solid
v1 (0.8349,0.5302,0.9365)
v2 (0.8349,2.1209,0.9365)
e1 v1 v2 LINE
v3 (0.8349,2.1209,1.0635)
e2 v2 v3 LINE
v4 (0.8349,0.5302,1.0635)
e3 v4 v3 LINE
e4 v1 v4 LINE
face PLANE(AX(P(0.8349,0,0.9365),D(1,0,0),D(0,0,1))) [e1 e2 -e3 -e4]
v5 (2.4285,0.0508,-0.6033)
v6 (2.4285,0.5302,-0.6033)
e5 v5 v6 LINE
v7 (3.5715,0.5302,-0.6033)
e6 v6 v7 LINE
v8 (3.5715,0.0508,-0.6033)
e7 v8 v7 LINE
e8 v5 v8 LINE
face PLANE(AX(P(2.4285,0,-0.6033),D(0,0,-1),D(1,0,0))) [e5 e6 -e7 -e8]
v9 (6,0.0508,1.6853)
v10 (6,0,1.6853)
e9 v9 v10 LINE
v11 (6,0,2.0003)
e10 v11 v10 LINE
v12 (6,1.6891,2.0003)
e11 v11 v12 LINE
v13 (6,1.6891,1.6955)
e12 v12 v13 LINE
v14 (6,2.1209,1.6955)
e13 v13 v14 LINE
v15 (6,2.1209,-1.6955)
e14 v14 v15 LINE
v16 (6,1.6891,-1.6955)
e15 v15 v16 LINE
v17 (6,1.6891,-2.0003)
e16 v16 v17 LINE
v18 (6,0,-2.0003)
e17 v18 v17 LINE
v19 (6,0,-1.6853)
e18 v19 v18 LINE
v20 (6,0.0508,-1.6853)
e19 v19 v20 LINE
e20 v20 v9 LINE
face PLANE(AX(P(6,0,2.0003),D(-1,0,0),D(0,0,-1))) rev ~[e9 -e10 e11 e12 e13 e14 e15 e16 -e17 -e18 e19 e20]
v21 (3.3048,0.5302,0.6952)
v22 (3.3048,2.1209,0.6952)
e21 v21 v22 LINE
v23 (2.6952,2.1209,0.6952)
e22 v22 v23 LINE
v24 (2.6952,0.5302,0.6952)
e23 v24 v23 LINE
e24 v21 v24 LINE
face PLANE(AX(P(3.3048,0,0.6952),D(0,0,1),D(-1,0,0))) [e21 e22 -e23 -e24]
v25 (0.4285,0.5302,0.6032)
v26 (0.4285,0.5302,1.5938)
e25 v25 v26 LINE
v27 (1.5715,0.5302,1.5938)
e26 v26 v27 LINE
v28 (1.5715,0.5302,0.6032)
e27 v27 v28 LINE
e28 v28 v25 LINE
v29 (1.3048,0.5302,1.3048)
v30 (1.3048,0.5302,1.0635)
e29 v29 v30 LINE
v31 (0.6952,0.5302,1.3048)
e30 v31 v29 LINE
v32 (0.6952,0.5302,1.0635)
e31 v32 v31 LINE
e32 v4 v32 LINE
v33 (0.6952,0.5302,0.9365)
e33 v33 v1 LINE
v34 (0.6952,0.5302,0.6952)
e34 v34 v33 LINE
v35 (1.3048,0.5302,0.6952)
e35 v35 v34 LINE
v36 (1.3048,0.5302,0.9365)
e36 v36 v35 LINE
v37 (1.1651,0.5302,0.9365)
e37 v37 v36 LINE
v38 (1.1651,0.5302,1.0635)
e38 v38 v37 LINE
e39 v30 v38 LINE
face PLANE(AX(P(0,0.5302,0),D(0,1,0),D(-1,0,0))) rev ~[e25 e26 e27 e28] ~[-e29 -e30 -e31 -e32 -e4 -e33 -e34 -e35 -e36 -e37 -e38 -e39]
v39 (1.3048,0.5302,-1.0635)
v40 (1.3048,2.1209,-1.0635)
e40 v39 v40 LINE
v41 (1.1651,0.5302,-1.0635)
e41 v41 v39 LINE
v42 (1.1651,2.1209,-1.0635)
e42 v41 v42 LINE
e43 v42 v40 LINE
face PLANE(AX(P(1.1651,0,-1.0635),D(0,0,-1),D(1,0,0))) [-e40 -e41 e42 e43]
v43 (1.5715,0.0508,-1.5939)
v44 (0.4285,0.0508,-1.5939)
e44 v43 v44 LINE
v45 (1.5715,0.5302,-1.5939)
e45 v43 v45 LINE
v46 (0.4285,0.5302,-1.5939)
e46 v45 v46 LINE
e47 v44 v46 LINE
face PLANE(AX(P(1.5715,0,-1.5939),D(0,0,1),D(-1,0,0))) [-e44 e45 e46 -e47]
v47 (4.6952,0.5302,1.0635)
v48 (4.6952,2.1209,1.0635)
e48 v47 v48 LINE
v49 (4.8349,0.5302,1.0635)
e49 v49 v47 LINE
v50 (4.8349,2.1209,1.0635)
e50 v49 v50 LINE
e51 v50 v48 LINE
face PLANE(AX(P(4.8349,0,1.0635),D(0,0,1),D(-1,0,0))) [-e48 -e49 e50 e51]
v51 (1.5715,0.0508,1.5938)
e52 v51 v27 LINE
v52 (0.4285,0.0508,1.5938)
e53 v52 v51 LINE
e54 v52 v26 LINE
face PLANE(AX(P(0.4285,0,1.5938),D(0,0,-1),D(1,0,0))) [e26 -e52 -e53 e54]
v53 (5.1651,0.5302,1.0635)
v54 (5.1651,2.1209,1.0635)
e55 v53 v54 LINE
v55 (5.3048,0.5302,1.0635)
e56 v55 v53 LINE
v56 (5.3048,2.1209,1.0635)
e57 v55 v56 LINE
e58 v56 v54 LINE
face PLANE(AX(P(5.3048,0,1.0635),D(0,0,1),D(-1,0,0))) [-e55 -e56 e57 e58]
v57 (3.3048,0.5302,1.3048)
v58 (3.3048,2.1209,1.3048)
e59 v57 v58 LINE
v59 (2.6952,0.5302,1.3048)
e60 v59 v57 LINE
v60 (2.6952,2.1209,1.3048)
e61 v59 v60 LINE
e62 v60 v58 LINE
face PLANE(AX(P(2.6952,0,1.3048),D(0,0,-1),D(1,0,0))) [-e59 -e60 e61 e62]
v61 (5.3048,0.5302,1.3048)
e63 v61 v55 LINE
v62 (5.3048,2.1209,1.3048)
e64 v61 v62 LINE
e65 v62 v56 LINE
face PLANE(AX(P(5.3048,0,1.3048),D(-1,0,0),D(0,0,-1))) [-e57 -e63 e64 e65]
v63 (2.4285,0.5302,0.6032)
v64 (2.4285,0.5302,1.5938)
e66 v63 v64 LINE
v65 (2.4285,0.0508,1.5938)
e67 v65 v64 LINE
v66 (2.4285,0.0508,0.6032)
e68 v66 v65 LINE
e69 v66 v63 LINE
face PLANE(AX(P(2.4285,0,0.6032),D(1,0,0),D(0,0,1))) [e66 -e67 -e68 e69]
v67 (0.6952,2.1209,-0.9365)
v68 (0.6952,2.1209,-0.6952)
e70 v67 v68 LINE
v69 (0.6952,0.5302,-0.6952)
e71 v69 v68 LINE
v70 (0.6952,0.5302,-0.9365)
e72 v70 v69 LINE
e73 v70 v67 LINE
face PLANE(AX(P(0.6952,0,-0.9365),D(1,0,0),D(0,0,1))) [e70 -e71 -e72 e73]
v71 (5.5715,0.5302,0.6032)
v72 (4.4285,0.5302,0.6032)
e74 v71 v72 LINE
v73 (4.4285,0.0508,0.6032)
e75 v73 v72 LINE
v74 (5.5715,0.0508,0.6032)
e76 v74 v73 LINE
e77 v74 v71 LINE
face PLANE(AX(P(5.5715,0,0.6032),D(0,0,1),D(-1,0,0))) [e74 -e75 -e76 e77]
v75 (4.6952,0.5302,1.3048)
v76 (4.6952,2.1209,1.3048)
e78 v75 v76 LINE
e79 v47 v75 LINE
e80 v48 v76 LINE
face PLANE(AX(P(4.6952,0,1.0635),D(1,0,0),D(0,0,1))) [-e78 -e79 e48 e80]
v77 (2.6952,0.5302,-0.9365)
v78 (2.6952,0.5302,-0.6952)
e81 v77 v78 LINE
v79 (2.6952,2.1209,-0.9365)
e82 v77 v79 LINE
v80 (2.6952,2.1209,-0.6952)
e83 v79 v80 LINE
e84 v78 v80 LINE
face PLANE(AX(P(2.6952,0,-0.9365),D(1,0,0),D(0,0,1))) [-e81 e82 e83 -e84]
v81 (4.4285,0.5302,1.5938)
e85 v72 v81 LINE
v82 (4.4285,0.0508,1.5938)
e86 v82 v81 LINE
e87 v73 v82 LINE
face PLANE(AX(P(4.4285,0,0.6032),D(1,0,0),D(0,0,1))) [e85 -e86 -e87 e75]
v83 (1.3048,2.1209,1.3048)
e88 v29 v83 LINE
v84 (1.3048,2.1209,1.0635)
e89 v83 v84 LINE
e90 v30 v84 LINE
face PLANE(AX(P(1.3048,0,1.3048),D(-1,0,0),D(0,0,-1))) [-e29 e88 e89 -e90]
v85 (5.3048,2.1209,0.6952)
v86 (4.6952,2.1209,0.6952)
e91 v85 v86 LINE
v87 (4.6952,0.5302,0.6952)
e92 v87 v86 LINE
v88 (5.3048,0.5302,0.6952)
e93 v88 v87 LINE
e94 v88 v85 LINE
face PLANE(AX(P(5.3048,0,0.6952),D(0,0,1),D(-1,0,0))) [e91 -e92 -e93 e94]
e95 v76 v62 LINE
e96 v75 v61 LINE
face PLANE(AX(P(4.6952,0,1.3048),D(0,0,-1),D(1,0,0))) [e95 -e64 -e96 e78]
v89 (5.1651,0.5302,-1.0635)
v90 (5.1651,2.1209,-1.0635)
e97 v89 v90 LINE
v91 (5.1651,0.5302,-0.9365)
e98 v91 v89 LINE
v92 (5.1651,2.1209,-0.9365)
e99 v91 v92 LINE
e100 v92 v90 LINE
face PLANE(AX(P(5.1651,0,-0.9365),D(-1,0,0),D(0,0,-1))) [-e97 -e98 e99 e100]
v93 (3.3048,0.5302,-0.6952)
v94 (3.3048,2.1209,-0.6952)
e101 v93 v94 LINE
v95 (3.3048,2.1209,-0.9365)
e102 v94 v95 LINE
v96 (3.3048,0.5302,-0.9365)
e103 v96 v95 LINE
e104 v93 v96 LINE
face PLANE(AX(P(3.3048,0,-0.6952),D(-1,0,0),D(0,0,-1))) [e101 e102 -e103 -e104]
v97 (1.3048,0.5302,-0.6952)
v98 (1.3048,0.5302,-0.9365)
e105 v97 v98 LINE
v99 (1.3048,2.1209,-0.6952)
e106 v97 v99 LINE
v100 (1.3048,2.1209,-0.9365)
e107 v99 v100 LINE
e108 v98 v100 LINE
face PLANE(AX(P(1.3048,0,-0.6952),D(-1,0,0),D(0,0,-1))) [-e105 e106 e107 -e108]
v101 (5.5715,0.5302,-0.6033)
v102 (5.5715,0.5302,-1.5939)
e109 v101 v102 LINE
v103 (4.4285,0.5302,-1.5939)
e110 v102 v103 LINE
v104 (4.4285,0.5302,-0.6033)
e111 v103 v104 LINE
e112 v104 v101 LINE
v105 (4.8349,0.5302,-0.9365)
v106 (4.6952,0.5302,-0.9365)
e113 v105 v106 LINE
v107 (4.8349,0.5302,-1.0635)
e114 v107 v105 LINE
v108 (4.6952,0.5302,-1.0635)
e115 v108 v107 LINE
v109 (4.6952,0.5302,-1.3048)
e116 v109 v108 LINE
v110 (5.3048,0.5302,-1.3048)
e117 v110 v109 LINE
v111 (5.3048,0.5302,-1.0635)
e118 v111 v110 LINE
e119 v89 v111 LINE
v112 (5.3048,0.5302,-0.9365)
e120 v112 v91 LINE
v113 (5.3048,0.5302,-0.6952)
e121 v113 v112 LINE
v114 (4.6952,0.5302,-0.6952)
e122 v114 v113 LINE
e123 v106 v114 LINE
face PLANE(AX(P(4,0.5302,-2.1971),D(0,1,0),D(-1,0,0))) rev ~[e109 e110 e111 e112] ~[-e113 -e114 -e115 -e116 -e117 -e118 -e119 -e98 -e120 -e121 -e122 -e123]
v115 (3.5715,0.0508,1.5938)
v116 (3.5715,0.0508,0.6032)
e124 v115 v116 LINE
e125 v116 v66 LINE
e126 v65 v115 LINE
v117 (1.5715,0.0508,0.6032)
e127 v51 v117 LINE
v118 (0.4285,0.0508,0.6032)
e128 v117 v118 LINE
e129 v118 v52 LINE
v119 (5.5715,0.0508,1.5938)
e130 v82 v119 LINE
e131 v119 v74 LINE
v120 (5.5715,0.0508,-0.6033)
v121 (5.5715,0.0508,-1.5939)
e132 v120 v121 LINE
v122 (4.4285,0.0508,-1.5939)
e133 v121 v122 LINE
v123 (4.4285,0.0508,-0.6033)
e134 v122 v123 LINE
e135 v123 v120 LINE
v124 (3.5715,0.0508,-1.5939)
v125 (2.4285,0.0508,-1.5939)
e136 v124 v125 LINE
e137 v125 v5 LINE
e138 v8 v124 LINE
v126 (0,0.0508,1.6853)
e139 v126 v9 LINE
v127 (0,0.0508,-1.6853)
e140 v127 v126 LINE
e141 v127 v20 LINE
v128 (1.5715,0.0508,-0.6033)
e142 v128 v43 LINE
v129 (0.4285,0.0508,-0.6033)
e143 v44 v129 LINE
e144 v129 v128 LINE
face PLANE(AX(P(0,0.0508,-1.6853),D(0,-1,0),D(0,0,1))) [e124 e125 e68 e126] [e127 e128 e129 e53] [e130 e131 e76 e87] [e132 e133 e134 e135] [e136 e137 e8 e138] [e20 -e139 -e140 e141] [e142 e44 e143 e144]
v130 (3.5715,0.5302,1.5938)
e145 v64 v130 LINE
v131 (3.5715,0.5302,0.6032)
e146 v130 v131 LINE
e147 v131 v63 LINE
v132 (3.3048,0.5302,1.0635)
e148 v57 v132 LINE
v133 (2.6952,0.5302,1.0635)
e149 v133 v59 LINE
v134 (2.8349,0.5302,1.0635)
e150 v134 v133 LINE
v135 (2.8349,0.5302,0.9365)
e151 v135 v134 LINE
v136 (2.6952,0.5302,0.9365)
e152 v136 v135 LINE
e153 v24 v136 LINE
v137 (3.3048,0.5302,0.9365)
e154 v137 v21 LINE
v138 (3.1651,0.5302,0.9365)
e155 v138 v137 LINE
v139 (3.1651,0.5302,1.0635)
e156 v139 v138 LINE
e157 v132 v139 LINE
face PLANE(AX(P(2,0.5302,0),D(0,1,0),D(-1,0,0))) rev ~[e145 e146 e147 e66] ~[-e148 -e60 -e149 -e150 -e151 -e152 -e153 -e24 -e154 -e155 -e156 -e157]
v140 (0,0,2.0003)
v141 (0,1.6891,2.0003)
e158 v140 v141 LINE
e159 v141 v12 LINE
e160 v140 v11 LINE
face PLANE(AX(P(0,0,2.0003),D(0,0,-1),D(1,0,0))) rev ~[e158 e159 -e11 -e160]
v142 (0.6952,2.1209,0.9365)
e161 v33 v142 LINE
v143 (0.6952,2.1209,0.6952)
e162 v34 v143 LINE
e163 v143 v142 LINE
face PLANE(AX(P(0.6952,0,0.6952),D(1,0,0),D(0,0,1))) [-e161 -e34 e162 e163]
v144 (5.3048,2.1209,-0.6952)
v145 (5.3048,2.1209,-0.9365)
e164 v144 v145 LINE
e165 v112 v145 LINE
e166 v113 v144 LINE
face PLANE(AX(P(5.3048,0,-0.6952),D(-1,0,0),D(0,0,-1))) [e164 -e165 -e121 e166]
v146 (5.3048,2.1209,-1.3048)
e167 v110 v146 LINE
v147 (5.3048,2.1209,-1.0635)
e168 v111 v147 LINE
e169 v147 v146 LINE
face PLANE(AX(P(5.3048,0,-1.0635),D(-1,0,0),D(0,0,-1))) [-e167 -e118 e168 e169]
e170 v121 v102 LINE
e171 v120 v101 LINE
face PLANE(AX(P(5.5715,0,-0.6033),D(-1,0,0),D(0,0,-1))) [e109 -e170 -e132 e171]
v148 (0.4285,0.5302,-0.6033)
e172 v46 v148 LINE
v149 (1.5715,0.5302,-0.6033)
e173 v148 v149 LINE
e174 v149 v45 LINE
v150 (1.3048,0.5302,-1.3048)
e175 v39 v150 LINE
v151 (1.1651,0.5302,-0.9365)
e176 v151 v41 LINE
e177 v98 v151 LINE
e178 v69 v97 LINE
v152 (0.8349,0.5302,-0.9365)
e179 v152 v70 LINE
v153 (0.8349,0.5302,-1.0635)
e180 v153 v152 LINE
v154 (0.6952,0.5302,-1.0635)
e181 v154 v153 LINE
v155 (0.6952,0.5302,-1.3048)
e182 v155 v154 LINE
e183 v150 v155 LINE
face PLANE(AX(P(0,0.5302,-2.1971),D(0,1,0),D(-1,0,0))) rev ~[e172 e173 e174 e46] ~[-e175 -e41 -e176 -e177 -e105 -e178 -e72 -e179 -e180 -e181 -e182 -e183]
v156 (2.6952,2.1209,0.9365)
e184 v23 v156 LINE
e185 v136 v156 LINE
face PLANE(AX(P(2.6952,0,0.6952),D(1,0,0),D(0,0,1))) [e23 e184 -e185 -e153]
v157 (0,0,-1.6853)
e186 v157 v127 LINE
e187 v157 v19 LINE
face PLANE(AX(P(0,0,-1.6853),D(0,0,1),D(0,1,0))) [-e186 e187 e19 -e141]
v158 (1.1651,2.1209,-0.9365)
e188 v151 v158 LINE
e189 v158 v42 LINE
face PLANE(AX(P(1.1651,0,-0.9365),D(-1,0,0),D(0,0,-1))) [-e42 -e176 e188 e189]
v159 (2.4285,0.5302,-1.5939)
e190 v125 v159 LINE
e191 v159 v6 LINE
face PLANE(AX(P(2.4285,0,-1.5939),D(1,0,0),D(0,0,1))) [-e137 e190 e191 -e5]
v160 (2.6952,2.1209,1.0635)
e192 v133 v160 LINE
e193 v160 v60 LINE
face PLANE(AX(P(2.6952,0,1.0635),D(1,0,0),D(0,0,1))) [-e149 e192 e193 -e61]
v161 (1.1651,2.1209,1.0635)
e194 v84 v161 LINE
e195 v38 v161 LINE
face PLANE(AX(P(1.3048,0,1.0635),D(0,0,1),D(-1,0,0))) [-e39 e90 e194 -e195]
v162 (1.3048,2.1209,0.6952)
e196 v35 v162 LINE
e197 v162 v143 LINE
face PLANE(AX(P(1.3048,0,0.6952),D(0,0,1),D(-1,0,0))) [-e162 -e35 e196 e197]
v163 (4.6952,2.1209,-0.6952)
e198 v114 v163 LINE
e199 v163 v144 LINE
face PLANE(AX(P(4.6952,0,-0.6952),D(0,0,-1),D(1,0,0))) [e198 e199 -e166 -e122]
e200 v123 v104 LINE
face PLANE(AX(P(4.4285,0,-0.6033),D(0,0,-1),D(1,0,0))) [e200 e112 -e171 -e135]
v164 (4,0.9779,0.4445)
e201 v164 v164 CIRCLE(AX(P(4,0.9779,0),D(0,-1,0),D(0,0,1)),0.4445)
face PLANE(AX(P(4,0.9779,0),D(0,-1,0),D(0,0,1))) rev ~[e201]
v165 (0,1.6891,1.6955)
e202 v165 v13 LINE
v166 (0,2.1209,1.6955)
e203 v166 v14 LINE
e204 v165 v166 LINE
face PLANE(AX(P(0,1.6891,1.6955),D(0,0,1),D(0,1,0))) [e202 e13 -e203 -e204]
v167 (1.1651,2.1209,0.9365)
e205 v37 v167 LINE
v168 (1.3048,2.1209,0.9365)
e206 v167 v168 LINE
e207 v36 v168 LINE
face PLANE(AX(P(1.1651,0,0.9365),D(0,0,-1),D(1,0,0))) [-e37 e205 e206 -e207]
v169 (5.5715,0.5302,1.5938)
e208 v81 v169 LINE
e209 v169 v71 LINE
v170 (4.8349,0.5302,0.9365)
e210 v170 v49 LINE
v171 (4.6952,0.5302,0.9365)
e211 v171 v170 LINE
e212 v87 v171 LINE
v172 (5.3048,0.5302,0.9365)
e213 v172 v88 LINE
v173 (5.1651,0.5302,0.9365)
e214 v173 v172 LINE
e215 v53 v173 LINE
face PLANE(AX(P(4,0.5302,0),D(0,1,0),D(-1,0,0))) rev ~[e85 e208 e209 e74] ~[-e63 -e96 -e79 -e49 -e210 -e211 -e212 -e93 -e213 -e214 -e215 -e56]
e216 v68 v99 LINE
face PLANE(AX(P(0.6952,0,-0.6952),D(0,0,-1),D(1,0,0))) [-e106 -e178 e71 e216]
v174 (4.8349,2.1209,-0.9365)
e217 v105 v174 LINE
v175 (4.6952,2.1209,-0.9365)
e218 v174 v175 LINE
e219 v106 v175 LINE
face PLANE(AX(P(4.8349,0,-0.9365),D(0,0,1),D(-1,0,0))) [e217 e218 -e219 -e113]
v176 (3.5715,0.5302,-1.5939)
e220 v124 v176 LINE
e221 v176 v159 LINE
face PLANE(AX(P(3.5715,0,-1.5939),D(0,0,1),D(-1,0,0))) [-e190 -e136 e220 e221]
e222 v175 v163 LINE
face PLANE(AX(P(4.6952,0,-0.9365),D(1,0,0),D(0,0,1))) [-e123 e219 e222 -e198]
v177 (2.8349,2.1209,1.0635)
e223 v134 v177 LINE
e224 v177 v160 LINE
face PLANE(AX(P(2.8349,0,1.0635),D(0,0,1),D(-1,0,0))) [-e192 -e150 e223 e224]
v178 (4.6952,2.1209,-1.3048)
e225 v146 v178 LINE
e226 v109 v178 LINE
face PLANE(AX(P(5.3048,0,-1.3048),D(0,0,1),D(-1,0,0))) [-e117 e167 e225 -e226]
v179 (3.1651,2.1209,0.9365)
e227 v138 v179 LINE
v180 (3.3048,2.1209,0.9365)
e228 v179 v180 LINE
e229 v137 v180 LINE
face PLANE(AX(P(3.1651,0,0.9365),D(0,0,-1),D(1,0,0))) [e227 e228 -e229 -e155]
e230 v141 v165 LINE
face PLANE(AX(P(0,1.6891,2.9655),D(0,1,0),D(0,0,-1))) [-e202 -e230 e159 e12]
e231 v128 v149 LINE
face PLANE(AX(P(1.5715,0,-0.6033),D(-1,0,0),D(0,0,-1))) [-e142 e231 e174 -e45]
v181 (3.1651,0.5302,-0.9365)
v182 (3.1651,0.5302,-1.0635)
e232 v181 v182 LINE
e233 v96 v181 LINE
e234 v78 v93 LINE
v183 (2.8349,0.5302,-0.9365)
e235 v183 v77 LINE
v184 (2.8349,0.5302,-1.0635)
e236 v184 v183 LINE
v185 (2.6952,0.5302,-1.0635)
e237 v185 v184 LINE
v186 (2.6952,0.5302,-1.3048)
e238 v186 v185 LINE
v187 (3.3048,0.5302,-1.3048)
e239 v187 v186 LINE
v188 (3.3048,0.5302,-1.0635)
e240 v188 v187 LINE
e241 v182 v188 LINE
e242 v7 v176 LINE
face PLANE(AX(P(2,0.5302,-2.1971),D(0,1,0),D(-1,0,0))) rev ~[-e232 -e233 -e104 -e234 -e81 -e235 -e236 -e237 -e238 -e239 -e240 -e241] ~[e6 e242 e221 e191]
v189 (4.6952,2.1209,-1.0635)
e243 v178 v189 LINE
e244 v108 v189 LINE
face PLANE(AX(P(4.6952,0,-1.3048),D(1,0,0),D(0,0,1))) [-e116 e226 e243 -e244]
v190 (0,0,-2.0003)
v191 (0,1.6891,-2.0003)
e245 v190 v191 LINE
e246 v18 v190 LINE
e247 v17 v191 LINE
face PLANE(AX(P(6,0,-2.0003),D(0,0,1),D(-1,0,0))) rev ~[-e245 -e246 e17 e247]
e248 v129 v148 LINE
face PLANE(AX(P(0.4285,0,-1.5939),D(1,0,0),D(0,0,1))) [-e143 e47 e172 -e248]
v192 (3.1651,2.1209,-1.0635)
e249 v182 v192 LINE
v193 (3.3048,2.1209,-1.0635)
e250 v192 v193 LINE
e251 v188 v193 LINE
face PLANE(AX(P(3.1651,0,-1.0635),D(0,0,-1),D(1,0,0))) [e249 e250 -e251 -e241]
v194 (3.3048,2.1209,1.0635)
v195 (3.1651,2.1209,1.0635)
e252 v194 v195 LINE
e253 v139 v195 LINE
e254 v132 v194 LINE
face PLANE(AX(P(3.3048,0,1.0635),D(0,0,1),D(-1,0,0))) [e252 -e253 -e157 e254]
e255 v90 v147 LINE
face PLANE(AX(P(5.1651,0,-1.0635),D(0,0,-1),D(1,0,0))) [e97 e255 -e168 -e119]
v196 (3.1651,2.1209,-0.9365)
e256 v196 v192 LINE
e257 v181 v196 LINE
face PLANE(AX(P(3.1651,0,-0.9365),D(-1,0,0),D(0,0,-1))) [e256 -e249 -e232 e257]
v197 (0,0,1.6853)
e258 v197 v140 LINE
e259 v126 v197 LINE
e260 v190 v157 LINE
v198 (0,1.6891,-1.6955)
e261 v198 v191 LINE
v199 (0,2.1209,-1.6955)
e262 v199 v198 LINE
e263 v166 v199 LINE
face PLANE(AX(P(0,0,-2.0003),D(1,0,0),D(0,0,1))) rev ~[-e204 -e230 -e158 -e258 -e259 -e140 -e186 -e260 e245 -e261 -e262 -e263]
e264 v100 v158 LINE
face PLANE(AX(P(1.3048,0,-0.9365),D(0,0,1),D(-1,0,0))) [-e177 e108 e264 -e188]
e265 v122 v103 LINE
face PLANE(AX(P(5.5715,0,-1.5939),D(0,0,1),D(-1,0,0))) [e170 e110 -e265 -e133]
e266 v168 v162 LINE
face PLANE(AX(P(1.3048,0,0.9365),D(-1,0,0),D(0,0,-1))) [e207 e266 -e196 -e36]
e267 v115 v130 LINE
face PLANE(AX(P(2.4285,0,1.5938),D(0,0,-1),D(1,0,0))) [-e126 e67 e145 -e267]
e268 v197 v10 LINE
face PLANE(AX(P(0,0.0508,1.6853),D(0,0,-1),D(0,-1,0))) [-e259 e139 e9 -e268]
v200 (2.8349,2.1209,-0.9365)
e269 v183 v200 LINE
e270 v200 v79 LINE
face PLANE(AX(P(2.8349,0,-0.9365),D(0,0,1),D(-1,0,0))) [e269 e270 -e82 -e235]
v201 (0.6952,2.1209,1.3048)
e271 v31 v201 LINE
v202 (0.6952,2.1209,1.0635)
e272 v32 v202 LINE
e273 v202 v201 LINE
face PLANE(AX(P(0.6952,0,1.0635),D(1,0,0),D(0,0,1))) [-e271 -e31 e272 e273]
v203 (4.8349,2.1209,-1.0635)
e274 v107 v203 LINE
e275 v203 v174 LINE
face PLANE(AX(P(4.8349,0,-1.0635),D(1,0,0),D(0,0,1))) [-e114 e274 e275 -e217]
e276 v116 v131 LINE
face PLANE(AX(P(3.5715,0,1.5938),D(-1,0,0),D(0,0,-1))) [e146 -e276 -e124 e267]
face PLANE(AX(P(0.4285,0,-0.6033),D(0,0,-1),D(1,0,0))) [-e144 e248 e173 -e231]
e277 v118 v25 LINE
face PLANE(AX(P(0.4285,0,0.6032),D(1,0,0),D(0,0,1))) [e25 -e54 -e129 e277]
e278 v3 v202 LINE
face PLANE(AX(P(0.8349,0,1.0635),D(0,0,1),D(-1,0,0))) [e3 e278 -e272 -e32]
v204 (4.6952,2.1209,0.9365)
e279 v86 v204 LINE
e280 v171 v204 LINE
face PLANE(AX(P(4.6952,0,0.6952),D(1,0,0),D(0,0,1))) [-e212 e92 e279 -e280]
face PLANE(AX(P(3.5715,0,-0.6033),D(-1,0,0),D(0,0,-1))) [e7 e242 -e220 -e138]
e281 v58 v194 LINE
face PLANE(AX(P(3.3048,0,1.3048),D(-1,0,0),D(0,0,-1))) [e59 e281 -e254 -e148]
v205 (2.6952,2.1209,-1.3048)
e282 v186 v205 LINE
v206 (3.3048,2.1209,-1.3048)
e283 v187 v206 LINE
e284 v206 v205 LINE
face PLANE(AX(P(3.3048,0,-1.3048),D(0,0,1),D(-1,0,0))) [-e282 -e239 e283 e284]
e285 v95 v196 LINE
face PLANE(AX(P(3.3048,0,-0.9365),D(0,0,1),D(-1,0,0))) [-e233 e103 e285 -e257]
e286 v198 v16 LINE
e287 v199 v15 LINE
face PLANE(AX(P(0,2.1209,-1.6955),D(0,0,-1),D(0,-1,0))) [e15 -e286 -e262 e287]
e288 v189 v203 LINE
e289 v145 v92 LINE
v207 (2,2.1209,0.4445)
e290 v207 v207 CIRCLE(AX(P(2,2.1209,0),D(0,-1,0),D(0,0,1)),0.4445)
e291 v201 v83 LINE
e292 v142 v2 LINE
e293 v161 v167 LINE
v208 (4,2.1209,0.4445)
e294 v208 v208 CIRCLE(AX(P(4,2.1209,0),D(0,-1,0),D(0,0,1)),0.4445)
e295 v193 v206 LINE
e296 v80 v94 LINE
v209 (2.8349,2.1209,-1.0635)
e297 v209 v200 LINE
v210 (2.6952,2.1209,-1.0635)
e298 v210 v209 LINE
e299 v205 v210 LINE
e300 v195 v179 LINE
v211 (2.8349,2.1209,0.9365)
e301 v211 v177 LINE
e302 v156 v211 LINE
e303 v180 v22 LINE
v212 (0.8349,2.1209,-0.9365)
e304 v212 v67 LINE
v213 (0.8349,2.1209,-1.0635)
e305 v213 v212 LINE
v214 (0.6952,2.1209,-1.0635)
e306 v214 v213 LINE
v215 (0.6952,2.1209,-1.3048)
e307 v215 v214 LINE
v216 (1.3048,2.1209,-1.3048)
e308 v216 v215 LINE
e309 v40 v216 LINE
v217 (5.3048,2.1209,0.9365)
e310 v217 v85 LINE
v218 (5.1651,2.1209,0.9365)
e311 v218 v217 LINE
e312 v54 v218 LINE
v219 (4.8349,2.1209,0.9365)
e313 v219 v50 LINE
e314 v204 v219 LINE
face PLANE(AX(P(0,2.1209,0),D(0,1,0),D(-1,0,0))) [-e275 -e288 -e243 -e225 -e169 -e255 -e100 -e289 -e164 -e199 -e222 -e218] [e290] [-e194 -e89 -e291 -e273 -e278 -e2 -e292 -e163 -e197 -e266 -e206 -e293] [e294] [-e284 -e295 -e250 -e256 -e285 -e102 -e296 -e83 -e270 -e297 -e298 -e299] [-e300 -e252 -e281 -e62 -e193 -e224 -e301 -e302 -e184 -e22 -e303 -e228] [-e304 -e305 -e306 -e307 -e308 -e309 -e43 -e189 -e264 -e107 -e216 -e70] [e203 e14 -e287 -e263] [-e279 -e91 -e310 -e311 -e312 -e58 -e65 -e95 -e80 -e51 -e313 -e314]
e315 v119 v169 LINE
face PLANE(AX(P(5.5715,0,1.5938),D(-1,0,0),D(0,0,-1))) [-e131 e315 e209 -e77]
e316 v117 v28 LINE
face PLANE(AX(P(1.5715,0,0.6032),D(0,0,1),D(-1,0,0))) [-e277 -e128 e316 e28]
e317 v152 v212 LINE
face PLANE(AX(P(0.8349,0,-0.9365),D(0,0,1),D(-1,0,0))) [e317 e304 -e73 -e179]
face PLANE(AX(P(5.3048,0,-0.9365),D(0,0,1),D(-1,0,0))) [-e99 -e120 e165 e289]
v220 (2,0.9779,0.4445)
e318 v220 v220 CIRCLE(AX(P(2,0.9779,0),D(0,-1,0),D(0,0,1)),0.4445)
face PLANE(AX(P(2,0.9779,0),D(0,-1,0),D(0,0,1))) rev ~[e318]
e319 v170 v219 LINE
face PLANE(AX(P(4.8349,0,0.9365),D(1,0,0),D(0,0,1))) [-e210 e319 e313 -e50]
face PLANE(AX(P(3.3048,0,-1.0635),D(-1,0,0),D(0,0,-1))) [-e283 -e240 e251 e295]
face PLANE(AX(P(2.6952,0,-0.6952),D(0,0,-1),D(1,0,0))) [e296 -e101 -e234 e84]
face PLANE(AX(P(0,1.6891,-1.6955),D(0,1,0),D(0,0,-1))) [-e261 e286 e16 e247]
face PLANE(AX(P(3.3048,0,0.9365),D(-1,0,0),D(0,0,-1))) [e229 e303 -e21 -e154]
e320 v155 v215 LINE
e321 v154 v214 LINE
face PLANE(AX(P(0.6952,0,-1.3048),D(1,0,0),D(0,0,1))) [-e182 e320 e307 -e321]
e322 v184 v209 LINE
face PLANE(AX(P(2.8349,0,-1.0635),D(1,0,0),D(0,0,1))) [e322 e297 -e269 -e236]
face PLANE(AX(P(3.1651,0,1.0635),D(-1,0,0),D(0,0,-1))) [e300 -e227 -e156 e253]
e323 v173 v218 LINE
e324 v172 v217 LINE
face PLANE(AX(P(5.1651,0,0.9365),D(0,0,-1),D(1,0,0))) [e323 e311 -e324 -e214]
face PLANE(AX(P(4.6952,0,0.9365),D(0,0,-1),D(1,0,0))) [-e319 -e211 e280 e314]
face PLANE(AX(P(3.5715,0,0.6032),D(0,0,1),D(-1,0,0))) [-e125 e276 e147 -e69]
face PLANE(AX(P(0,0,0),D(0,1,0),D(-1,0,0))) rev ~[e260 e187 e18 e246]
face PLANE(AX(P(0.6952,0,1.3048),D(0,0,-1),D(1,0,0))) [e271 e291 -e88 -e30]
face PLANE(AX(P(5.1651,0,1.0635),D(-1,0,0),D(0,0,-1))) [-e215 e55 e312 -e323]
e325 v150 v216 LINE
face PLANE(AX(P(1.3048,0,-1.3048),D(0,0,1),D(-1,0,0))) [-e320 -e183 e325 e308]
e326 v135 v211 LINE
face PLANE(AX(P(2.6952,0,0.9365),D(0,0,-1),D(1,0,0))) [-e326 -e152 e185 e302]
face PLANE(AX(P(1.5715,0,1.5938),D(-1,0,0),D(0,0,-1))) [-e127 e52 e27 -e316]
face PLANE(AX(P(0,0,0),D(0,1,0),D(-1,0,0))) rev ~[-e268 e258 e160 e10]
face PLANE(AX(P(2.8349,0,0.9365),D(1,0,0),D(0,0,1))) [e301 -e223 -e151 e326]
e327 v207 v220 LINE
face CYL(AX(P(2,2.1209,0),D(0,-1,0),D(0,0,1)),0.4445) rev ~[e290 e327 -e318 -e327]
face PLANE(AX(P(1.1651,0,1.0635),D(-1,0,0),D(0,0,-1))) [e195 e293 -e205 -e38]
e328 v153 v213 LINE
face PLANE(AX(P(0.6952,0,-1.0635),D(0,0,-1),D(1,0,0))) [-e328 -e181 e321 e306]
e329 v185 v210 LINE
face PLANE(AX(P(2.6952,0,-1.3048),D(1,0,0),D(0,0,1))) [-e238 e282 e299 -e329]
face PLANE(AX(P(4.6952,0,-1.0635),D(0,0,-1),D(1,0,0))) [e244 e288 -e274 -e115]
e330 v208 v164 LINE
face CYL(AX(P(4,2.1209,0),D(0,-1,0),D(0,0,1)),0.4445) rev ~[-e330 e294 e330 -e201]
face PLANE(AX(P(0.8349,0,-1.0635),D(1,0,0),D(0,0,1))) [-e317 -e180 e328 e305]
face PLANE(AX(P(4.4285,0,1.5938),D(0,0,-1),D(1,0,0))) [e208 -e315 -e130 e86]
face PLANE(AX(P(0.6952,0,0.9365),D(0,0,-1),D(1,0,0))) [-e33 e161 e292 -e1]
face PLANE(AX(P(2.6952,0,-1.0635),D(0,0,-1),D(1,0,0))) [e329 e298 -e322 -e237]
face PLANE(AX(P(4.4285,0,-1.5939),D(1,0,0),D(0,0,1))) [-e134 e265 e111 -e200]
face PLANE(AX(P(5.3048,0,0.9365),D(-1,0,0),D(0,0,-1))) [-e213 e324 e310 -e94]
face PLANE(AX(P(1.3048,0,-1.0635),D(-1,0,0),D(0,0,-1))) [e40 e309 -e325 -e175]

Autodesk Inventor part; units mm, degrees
sketch "Sketch_1" plane through (0, 0, 0) normal (0, 1, 0) x (-1, 0, 0)
  line L0 (0, -2.0003) -> (0, 2.0003)
  line L1 (0, 2.0003) -> (-6, 2.0003)
  line L2 (-6, 2.0003) -> (-6, -2.0003)
  line L3 (-6, -2.0003) -> (0, -2.0003)
  line L4 (-4.6952, 1.0635) -> (-4.6952, 1.3048)
  line L5 (-4.6952, 1.3048) -> (-5.3048, 1.3048)
  line L6 (-5.3048, 1.3048) -> (-5.3048, 1.0635)
  line L7 (-5.3048, 1.0635) -> (-5.1651, 1.0635)
  line L8 (-5.1651, 1.0635) -> (-5.1651, 0.9365)
  line L9 (-5.1651, 0.9365) -> (-5.3048, 0.9365)
  line L10 (-5.3048, 0.9365) -> (-5.3048, 0.6952)
  line L11 (-5.3048, 0.6952) -> (-4.6952, 0.6952)
  line L12 (-4.6952, 0.6952) -> (-4.6952, 0.9365)
  line L13 (-4.6952, 0.9365) -> (-4.8349, 0.9365)
  line L14 (-4.8349, 0.9365) -> (-4.8349, 1.0635)
  line L15 (-4.8349, 1.0635) -> (-4.6952, 1.0635)
  line L16 (-4.6952, -0.9365) -> (-4.6952, -0.6952)
  line L17 (-4.6952, -0.6952) -> (-5.3048, -0.6952)
  line L18 (-5.3048, -0.6952) -> (-5.3048, -0.9365)
  line L19 (-5.3048, -0.9365) -> (-5.1651, -0.9365)
  line L20 (-5.1651, -0.9365) -> (-5.1651, -1.0635)
  line L21 (-5.1651, -1.0635) -> (-5.3048, -1.0635)
  line L22 (-5.3048, -1.0635) -> (-5.3048, -1.3048)
  line L23 (-5.3048, -1.3048) -> (-4.6952, -1.3048)
  line L24 (-4.6952, -1.3048) -> (-4.6952, -1.0635)
  line L25 (-4.6952, -1.0635) -> (-4.8349, -1.0635)
  line L26 (-4.8349, -1.0635) -> (-4.8349, -0.9365)
  line L27 (-4.8349, -0.9365) -> (-4.6952, -0.9365)
  line L28 (-2.6952, 1.0635) -> (-2.6952, 1.3048)
  line L29 (-2.6952, 1.3048) -> (-3.3048, 1.3048)
  line L30 (-3.3048, 1.3048) -> (-3.3048, 1.0635)
  line L31 (-3.3048, 1.0635) -> (-3.1651, 1.0635)
  line L32 (-3.1651, 1.0635) -> (-3.1651, 0.9365)
  line L33 (-3.1651, 0.9365) -> (-3.3048, 0.9365)
  line L34 (-3.3048, 0.9365) -> (-3.3048, 0.6952)
  line L35 (-3.3048, 0.6952) -> (-2.6952, 0.6952)
  line L36 (-2.6952, 0.6952) -> (-2.6952, 0.9365)
  line L37 (-2.6952, 0.9365) -> (-2.8349, 0.9365)
  line L38 (-2.8349, 0.9365) -> (-2.8349, 1.0635)
  line L39 (-2.8349, 1.0635) -> (-2.6952, 1.0635)
  line L40 (-2.6952, -0.9365) -> (-2.6952, -0.6952)
  line L41 (-2.6952, -0.6952) -> (-3.3048, -0.6952)
  line L42 (-3.3048, -0.6952) -> (-3.3048, -0.9365)
  line L43 (-3.3048, -0.9365) -> (-3.1651, -0.9365)
  line L44 (-3.1651, -0.9365) -> (-3.1651, -1.0635)
  line L45 (-3.1651, -1.0635) -> (-3.3048, -1.0635)
  line L46 (-3.3048, -1.0635) -> (-3.3048, -1.3048)
  line L47 (-3.3048, -1.3048) -> (-2.6952, -1.3048)
  line L48 (-2.6952, -1.3048) -> (-2.6952, -1.0635)
  line L49 (-2.6952, -1.0635) -> (-2.8349, -1.0635)
  line L50 (-2.8349, -1.0635) -> (-2.8349, -0.9365)
  line L51 (-2.8349, -0.9365) -> (-2.6952, -0.9365)
  line L52 (-0.6952, 1.0635) -> (-0.6952, 1.3048)
  line L53 (-0.6952, 1.3048) -> (-1.3048, 1.3048)
  line L54 (-1.3048, 1.3048) -> (-1.3048, 1.0635)
  line L55 (-1.3048, 1.0635) -> (-1.1651, 1.0635)
  line L56 (-1.1651, 1.0635) -> (-1.1651, 0.9365)
  line L57 (-1.1651, 0.9365) -> (-1.3048, 0.9365)
  line L58 (-1.3048, 0.9365) -> (-1.3048, 0.6952)
  line L59 (-1.3048, 0.6952) -> (-0.6952, 0.6952)
  line L60 (-0.6952, 0.6952) -> (-0.6952, 0.9365)
  line L61 (-0.6952, 0.9365) -> (-0.8349, 0.9365)
  line L62 (-0.8349, 0.9365) -> (-0.8349, 1.0635)
  line L63 (-0.8349, 1.0635) -> (-0.6952, 1.0635)
  line L64 (-0.6952, -0.9365) -> (-0.6952, -0.6952)
  line L65 (-0.6952, -0.6952) -> (-1.3048, -0.6952)
  line L66 (-1.3048, -0.6952) -> (-1.3048, -0.9365)
  line L67 (-1.3048, -0.9365) -> (-1.1651, -0.9365)
  line L68 (-1.1651, -0.9365) -> (-1.1651, -1.0635)
  line L69 (-1.1651, -1.0635) -> (-1.3048, -1.0635)
  line L70 (-1.3048, -1.0635) -> (-1.3048, -1.3048)
  line L71 (-1.3048, -1.3048) -> (-0.6952, -1.3048)
  line L72 (-0.6952, -1.3048) -> (-0.6952, -1.0635)
  line L73 (-0.6952, -1.0635) -> (-0.8349, -1.0635)
  line L74 (-0.8349, -1.0635) -> (-0.8349, -0.9365)
  line L75 (-0.8349, -0.9365) -> (-0.6952, -0.9365)
extrude "Extrusion1" add sketch "Sketch_1" along normal blind 2.1209
sketch "Sketch_7" plane through (0, 0, 0) normal (1, 0, 0) x (0, 1, 0)
  line L0 (0.0508, 1.6853) -> (0, 1.6853)
  line L1 (0, 1.6853) -> (0, -1.6853)
  line L2 (0, -1.6853) -> (0.0508, -1.6853)
  line L3 (0.0508, -1.6853) -> (0.0508, 1.6853)
extrude "Extrusion2" cut sketch "Sketch_7" along normal blind 6
sketch "Sketch_8" plane through (0, 0, 0) normal (1, 0, 0) x (0, 1, 0)
  line L0 (2.9591, 2.9655) -> (1.6891, 2.9655)
  line L1 (1.6891, 2.9655) -> (1.6891, 1.6955)
  line L2 (1.6891, 1.6955) -> (2.1209, 1.6955)
  line L3 (2.1209, 1.6955) -> (2.1209, -1.6955)
  line L4 (2.1209, -1.6955) -> (1.6891, -1.6955)
  line L5 (1.6891, -1.6955) -> (1.6891, -2.9655)
  line L6 (1.6891, -2.9655) -> (2.9591, -2.9655)
  line L7 (2.9591, -2.9655) -> (2.9591, 2.9655)
extrude "Extrusion3" cut sketch "Sketch_8" along normal blind 6
sketch "Sketch4" plane through (0, 2.1209, 0) normal (0, 1, 0) x (1, 0, 0)
  point P0 (2, 0)
hole "Hole1" at (2, 2.1209, 0) direction (0, -1, 0) diameter 0.889 depth 1.143
pattern_linear "Rectangular Pattern1" count 2 spacing 2 along (1, 0, 0) of "Hole1"
sketch "Sketch_12" plane through (0, 0, 0) normal (0, 1, 0) x (-1, 0, 0)
  line L0 (-0.4285, 0.6032) -> (-0.4285, 1.5938)
  line L1 (-0.4285, 1.5938) -> (-1.5715, 1.5938)
  line L2 (-1.5715, 1.5938) -> (-1.5715, 0.6032)
  line L3 (-1.5715, 0.6032) -> (-0.4285, 0.6032)
extrude "Extrusion4" cut sketch "Sketch_12" along normal blind 0.5302
pattern_linear "Rectangular Pattern2" count 3 spacing 2 along (1, 0, 0) count 2 spacing 2.1971 along (0, 0, -1) of "Extrusion4"
ref_plane "socket_XY" through (3, 0, 0) normal (0, 1, 0) x (1, 0, 0)
ref_plane "socket_YZ" through (3, 0, 0) normal (1, 0, 0) x (0, 0, -1)
ref_plane "socket_ZX" through (3, 0, 0) normal (0, 0, -1) x (0, 1, 0)
ref_plane "to_alignment_pin_1_XY" through (2, 0.0508, 0) normal (0, 1, 0) x (1, 0, 0)
ref_plane "to_alignment_pin_1_YZ" through (2, 0.0508, 0) normal (1, 0, 0) x (0, 0, -1)
ref_plane "to_alignment_pin_1_ZX" through (2, 0.0508, 0) normal (0, 0, -1) x (0, 1, 0)
ref_plane "to_alignment_pin_2_XY" through (4, 0.0508, 0) normal (0, 1, 0) x (1, 0, 0)
ref_plane "to_alignment_pin_2_YZ" through (4, 0.0508, 0) normal (1, 0, 0) x (0, 0, -1)
ref_plane "to_alignment_pin_2_ZX" through (4, 0.0508, 0) normal (0, 0, -1) x (0, 1, 0)
ref_plane "to_pick_and_place_pad_XY" through (3, 2.1209, 0) normal (0, 1, 0) x (1, 0, 0)
ref_plane "to_pick_and_place_pad_YZ" through (3, 2.1209, 0) normal (1, 0, 0) x (0, 0, -1)
ref_plane "to_pick_and_place_pad_ZX" through (3, 2.1209, 0) normal (0, 0, -1) x (0, 1, 0)
ref_plane "to_polyimide_film_pad_XY" through (3, 2.1209, 0) normal (0, 1, 0) x (1, 0, 0)
ref_plane "to_polyimide_film_pad_YZ" through (3, 2.1209, 0) normal (1, 0, 0) x (0, 0, -1)
ref_plane "to_polyimide_film_pad_ZX" through (3, 2.1209, 0) normal (0, 0, -1) x (0, 1, 0)
properties part number "CLT-103-01-F-D_socket"
